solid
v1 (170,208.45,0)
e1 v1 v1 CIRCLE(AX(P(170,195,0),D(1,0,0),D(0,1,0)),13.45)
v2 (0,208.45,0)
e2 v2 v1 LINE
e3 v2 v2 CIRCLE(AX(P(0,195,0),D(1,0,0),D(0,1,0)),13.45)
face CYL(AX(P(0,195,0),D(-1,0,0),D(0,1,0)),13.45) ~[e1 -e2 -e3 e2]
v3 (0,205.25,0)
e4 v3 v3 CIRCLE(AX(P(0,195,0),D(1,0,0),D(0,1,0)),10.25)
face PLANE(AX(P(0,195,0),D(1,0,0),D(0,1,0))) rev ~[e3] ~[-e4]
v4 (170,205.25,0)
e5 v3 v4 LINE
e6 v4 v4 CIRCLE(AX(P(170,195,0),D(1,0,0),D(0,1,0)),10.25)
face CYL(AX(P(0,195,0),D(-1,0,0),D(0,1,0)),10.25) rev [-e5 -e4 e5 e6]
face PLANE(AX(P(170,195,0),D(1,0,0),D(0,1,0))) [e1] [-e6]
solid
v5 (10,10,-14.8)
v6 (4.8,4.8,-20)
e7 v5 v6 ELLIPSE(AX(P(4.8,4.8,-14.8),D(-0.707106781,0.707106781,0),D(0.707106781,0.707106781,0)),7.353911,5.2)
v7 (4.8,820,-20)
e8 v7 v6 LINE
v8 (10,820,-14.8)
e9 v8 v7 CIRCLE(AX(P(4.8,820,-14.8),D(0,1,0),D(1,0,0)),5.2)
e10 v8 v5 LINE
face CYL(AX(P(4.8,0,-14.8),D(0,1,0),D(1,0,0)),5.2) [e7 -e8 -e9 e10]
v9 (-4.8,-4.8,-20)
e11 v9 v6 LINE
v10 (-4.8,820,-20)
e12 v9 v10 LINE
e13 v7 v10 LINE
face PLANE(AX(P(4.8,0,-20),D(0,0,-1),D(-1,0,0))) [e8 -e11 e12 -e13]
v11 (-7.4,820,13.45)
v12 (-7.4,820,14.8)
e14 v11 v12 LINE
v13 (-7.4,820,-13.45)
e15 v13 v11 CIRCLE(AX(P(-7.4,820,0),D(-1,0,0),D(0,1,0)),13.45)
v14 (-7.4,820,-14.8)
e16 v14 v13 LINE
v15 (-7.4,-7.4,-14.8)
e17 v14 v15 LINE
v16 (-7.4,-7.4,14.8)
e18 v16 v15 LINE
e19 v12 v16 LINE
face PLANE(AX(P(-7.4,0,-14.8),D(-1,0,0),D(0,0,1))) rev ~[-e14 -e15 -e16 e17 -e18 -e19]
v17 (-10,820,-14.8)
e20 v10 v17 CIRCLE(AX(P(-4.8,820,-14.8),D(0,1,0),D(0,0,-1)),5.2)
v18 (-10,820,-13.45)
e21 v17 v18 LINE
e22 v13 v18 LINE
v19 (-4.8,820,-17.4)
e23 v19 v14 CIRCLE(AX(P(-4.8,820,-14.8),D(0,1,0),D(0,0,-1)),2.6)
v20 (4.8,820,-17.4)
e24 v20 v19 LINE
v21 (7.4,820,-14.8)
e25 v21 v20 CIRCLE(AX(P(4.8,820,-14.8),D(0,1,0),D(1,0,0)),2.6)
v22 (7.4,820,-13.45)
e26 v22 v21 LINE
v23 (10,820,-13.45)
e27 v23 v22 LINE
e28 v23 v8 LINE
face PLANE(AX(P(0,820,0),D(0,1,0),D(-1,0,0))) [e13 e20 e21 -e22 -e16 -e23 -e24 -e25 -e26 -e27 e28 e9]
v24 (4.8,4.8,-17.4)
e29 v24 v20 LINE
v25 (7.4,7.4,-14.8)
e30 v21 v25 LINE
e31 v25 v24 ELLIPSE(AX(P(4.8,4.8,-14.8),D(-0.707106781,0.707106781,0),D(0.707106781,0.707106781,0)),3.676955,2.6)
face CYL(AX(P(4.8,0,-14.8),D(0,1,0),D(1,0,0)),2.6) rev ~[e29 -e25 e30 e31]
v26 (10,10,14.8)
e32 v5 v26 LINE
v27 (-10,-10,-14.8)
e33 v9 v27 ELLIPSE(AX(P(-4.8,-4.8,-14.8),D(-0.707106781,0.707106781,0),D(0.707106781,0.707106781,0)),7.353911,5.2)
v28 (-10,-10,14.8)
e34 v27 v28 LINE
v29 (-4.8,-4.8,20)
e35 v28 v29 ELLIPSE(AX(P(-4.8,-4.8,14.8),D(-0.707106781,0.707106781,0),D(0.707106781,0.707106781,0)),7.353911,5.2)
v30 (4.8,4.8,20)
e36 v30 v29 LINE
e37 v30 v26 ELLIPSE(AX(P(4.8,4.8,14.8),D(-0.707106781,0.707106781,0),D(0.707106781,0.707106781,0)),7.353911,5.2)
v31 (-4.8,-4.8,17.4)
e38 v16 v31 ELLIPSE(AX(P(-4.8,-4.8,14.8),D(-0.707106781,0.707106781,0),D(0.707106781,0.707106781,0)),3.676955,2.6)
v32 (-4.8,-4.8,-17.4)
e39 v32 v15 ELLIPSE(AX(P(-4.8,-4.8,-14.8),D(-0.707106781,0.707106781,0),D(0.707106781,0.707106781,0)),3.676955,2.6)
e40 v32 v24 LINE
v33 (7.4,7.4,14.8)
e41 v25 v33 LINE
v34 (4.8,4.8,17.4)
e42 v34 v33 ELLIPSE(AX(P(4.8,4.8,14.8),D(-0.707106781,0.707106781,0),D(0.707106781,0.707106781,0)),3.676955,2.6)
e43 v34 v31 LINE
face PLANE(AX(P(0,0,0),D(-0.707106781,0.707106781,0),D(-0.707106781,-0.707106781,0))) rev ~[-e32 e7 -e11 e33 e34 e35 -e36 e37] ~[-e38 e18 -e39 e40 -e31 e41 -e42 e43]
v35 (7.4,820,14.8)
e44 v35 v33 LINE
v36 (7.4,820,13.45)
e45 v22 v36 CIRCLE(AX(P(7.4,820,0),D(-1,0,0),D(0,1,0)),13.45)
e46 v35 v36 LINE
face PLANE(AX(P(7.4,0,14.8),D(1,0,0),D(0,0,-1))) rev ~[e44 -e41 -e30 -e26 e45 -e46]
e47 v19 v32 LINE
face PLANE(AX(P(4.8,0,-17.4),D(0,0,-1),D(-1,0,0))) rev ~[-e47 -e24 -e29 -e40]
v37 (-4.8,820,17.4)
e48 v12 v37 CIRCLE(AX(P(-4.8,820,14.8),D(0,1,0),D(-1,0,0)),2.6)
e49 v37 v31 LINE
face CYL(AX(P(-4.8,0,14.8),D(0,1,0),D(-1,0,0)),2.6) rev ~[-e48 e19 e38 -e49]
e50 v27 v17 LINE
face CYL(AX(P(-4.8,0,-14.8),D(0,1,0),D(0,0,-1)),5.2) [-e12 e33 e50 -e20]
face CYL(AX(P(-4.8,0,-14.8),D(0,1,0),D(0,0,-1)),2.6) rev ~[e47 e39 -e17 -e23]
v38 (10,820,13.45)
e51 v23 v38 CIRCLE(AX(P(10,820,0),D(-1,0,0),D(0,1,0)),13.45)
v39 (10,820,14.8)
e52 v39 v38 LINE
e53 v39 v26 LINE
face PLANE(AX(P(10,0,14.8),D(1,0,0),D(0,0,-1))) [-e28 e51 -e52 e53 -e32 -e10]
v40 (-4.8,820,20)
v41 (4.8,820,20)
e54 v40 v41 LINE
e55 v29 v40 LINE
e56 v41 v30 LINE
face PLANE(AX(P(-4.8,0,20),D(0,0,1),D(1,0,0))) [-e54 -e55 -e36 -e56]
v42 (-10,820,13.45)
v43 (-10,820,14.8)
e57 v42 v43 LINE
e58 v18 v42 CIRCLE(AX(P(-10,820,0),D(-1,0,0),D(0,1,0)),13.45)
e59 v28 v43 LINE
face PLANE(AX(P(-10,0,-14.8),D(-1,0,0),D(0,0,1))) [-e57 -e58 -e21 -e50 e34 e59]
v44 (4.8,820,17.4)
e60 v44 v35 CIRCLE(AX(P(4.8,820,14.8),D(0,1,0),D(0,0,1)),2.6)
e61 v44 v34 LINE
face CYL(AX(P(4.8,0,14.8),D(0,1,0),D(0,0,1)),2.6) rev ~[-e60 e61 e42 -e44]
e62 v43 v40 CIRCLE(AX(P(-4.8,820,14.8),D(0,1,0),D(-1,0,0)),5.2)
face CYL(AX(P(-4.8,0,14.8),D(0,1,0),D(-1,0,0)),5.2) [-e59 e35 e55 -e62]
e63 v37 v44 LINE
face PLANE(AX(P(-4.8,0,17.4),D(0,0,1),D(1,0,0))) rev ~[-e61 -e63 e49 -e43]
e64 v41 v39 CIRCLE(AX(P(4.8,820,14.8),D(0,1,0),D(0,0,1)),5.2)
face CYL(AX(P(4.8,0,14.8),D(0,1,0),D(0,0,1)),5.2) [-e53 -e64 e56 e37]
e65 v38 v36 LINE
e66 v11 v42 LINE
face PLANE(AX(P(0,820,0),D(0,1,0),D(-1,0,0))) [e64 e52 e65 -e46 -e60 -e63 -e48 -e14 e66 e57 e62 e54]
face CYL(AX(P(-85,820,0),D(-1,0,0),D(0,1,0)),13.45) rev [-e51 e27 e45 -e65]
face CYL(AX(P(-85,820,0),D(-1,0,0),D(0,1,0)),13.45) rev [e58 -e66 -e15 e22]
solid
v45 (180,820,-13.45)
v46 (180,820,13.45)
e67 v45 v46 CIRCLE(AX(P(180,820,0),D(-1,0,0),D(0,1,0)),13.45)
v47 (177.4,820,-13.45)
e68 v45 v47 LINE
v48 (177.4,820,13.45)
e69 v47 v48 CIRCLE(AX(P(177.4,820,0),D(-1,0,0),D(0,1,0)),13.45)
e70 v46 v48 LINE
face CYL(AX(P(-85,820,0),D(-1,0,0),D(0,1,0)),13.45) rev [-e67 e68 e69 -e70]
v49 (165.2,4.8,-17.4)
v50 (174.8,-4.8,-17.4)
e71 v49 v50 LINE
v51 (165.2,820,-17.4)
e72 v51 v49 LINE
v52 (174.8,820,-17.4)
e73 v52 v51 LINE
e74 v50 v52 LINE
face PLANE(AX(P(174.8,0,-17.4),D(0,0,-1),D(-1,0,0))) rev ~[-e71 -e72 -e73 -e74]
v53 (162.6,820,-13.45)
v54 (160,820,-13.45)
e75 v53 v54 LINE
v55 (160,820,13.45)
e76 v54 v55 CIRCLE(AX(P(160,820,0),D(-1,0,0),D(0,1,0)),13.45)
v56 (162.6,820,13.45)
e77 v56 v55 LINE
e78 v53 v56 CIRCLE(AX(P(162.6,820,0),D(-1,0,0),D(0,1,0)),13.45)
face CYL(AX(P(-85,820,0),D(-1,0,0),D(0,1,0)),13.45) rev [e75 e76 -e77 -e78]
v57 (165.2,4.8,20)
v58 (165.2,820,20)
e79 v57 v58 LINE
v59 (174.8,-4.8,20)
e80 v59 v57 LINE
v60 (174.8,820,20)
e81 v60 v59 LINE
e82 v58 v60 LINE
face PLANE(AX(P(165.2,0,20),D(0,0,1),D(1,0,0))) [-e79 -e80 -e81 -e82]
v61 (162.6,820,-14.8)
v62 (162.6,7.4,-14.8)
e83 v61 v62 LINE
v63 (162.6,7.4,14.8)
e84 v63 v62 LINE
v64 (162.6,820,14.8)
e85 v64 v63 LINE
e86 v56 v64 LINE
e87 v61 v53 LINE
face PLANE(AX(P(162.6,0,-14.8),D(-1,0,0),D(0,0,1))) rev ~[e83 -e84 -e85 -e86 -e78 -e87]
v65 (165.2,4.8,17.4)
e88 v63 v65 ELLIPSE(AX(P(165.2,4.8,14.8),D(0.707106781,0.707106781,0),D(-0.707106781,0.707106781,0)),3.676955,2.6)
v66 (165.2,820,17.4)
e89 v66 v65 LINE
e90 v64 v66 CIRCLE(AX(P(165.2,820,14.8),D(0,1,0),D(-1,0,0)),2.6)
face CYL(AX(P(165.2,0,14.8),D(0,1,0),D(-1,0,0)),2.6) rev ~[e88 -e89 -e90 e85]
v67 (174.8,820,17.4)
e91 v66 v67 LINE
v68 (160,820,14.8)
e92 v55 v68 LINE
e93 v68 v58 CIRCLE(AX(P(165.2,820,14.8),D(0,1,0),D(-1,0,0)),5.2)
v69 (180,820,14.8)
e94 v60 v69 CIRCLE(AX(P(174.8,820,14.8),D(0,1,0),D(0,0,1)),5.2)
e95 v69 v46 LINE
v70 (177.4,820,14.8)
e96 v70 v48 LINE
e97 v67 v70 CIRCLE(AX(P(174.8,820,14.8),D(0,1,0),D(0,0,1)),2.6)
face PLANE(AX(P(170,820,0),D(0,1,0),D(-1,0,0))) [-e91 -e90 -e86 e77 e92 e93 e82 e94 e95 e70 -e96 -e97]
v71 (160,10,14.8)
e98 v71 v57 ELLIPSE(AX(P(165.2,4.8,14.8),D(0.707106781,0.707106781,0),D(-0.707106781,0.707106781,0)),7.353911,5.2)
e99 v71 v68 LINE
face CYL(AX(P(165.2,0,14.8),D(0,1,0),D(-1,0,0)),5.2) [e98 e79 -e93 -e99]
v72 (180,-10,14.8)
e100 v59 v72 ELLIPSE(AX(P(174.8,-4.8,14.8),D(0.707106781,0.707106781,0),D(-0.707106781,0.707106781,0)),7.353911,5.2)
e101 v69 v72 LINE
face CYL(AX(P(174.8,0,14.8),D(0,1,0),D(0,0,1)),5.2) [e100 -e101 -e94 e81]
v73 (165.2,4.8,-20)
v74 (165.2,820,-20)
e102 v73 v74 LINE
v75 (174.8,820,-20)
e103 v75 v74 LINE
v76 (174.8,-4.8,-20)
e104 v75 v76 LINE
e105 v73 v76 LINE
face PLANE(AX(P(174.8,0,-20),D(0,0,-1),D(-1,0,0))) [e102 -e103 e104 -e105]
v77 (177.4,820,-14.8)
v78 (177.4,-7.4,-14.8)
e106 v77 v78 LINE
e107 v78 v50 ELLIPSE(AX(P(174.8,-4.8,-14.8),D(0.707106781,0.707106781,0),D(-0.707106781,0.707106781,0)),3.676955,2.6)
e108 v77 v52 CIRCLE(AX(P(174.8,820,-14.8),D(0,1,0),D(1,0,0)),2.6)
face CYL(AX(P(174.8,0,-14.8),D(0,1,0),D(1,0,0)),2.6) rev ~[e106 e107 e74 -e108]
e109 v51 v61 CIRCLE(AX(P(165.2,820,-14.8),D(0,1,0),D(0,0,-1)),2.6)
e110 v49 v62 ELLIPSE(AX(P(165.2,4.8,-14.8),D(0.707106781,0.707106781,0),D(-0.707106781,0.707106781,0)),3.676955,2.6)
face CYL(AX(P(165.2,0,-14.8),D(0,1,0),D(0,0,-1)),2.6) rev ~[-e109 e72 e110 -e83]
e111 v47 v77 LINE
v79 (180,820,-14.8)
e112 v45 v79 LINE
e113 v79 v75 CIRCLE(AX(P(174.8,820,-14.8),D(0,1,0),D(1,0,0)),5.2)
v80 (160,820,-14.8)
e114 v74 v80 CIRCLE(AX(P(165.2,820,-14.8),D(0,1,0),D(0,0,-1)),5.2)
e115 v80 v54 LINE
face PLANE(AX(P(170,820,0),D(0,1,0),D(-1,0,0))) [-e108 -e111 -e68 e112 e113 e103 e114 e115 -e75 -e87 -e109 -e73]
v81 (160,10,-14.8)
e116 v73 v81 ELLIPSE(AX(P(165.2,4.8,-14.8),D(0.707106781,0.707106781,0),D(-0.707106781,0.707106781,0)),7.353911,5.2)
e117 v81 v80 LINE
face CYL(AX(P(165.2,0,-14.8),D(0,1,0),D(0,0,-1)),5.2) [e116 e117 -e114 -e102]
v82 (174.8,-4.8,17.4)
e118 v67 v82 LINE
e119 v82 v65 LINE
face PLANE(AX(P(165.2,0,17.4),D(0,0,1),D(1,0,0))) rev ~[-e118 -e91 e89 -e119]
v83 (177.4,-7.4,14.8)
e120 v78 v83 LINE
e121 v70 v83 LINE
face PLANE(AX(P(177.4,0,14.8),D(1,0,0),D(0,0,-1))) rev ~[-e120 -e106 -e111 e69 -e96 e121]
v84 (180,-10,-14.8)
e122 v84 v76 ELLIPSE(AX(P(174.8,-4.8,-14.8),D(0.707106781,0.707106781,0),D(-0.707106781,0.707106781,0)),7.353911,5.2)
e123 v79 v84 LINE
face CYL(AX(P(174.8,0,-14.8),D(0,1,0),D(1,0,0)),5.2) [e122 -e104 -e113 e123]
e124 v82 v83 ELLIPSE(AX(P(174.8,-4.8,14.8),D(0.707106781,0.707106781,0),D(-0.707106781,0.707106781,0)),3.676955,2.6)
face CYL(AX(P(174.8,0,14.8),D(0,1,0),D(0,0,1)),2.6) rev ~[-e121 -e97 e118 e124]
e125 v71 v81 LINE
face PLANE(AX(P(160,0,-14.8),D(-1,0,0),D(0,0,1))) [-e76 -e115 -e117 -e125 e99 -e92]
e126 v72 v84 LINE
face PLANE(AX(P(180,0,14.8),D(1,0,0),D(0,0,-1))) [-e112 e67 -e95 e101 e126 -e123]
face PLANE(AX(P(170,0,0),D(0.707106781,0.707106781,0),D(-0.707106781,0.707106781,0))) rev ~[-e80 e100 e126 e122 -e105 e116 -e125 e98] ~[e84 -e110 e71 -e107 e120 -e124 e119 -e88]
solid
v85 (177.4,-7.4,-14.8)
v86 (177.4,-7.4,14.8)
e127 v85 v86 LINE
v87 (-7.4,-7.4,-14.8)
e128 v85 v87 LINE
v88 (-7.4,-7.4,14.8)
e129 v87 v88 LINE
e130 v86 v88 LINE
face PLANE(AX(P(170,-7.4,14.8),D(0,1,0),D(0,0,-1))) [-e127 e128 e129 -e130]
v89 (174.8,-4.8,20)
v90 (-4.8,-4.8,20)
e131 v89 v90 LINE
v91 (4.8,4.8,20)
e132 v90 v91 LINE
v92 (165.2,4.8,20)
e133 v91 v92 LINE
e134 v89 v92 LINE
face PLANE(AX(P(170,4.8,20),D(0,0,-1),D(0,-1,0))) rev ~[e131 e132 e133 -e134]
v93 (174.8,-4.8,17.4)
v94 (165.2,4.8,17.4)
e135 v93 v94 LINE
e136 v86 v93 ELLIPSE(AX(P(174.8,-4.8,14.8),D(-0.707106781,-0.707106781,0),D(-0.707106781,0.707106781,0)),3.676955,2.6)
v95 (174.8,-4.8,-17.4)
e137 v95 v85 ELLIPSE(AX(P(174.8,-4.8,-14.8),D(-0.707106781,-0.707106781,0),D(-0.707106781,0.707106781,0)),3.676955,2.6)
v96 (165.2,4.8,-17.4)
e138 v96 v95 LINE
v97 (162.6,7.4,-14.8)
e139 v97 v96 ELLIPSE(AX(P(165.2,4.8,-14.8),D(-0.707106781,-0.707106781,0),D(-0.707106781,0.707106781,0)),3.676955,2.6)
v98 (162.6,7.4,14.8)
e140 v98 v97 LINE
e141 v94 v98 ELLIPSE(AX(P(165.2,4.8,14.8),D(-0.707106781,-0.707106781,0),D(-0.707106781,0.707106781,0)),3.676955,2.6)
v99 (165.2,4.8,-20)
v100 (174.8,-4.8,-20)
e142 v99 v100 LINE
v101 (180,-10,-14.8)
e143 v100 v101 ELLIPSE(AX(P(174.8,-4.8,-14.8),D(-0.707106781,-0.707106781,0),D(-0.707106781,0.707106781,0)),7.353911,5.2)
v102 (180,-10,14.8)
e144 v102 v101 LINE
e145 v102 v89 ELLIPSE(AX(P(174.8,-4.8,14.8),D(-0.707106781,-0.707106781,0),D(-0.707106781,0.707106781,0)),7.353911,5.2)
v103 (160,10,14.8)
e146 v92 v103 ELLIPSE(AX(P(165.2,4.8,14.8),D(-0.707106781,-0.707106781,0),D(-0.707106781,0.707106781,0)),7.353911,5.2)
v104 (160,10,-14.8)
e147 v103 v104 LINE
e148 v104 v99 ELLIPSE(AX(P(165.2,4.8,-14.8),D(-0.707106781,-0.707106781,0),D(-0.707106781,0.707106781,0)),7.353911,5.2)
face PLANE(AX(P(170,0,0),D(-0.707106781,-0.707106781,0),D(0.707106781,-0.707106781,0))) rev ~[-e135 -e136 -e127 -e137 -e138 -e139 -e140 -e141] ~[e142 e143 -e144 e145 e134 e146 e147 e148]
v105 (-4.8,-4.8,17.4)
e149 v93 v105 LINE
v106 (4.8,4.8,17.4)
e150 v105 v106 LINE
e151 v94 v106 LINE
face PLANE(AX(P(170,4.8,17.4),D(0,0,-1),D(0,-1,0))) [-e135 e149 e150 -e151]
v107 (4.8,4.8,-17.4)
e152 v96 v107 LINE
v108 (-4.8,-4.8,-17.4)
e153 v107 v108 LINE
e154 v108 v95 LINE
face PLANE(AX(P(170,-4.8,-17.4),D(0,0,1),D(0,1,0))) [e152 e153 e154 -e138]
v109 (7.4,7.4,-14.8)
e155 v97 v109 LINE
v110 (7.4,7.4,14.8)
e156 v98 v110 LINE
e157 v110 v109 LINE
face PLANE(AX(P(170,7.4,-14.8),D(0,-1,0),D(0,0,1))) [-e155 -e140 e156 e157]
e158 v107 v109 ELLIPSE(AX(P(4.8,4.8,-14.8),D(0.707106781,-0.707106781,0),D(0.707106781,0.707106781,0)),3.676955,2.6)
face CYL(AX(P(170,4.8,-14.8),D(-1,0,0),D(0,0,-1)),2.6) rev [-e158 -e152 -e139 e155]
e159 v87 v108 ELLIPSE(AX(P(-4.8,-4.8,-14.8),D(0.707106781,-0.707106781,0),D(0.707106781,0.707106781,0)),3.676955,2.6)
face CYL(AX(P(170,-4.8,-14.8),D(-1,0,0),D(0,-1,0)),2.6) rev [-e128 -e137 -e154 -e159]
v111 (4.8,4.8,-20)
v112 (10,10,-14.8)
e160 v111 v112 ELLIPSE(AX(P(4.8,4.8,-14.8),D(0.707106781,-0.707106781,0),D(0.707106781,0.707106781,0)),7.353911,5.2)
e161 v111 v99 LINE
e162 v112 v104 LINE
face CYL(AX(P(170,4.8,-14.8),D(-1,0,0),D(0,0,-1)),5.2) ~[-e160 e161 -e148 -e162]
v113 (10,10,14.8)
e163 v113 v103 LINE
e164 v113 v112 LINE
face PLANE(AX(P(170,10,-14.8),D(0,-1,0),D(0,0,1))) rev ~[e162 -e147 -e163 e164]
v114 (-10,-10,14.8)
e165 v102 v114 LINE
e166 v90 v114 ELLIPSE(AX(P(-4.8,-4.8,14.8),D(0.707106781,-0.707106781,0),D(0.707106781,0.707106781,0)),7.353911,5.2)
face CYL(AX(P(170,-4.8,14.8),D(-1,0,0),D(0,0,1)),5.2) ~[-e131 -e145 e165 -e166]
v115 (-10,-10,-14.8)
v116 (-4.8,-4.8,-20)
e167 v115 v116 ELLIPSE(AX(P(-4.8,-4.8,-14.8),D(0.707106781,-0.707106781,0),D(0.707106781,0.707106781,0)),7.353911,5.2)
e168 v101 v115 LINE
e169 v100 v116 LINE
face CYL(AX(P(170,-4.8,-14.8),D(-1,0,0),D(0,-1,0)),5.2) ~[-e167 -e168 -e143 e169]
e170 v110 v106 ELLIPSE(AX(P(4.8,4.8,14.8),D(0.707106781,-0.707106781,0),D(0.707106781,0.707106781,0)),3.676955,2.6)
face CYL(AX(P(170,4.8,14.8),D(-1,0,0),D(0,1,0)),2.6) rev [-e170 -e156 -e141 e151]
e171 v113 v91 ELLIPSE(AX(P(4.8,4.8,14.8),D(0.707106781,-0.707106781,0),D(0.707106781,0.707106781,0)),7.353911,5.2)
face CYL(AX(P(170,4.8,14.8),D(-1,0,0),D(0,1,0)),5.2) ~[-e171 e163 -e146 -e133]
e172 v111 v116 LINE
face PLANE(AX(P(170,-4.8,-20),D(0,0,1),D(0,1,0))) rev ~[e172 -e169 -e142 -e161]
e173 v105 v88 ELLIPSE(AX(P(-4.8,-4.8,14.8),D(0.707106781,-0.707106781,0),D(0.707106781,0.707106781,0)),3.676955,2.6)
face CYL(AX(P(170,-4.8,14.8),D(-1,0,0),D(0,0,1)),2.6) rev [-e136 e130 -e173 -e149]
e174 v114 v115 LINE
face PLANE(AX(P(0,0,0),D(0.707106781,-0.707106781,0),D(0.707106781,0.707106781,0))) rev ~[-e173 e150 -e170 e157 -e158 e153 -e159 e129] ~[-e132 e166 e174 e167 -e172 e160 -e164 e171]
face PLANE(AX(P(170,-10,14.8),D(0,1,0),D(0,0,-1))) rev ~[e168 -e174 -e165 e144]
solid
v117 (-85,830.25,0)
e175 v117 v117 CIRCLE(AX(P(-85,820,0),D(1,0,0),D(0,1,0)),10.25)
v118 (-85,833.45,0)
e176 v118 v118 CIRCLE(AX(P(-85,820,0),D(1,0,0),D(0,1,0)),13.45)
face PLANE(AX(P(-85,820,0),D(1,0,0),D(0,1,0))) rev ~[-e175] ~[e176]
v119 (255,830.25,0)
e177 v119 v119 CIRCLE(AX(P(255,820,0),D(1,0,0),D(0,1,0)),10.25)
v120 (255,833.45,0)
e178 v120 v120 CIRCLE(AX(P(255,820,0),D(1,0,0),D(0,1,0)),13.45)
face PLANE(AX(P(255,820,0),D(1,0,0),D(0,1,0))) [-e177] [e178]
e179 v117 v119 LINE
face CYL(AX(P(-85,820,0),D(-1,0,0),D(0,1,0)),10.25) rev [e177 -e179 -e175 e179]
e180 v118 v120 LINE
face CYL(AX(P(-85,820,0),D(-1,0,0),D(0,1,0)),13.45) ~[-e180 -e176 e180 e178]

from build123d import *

# Parameters (mm, degrees)
SKETCH11_R                               = 13.45
SKETCH11_R_2                             = 10.25
PIPE_26_9_X_3_2_1_DEPTH                  = 340
SKETCH11_ON_SEGMENT_2_R                  = 13.45
SKETCH11_ON_SEGMENT_2_R_2                = 10.25
PIPE_26_9_X_3_2_1_2_DEPTH                = 170
RECTANGULAR_TUBE_50_X_30_X_2_6_1_DEPTH   = 820
RECTANGULAR_TUBE_50_X_30_X_2_6_1_2_DEPTH = 820
RECTANGULAR_TUBE_50_X_30_X_2_6_2_DEPTH   = 170
BODY_3_RUN_ON_DEPTH                      = 10
BODY_5_RUN_ON_DEPTH                      = 10
BODY_4_RUN_ON_DEPTH                      = 10
BODY_START                               = 170
BODY_5_RUN_ON_2_DEPTH                    = 10


with BuildPart() as part:
    # Sketch11 → Pipe 26.9 X 3.2(1) (new body)
    with BuildSketch(Plane(origin=(-85, 820, 0), x_dir=(0, 1, 0), z_dir=(1, 0, 0))):
        Circle(SKETCH11_R)
        Circle(SKETCH11_R_2, mode=Mode.SUBTRACT)
    extrude(amount=PIPE_26_9_X_3_2_1_DEPTH)


with BuildPart() as body_2:
    # Sketch11 on segment 2 (carried to segment 2) → Pipe 26.9 X 3.2_1 2 (new body)
    with BuildSketch(Plane(origin=(0, 195, 0), x_dir=(0, 1, 0), z_dir=(1, 0, 0))):
        Circle(SKETCH11_ON_SEGMENT_2_R)
        Circle(SKETCH11_ON_SEGMENT_2_R_2, mode=Mode.SUBTRACT)
    extrude(amount=PIPE_26_9_X_3_2_1_2_DEPTH)


with BuildPart() as body_3:
    # Sketch12 → Rectangular tube 50 X 30 X 2.6(1) (new body)
    with BuildSketch(Plane(origin=(0, 0, 0), x_dir=(-1, 0, 0), z_dir=(0, 1, 0))):
        with BuildLine():
            Line((-4.8, -20), (4.8, -20))
            ThreePointArc((4.8, -20), (8.476955262, -18.476955262), (10, -14.8))
            Line((10, -14.8), (10, 14.8))
            ThreePointArc((10, 14.8), (8.476955262, 18.476955262), (4.8, 20))
            Line((4.8, 20), (-4.8, 20))
            ThreePointArc((-4.8, 20), (-8.476955262, 18.476955262), (-10, 14.8))
            Line((-10, 14.8), (-10, -14.8))
            ThreePointArc((-10, -14.8), (-8.476955262, -18.476955262), (-4.8, -20))
        make_face()
        with BuildLine():
            Line((-4.8, -17.4), (4.8, -17.4))
            ThreePointArc((4.8, -17.4), (6.638477631, -16.638477631), (7.4, -14.8))
            Line((7.4, -14.8), (7.4, 14.8))
            ThreePointArc((7.4, 14.8), (6.638477631, 16.638477631), (4.8, 17.4))
            Line((4.8, 17.4), (-4.8, 17.4))
            ThreePointArc((-4.8, 17.4), (-6.638477631, 16.638477631), (-7.4, 14.8))
            Line((-7.4, 14.8), (-7.4, -14.8))
            ThreePointArc((-7.4, -14.8), (-6.638477631, -16.638477631), (-4.8, -17.4))
        make_face(mode=Mode.SUBTRACT)
    extrude(amount=RECTANGULAR_TUBE_50_X_30_X_2_6_1_DEPTH)

    # Sketch12 → body 3 run on (add)
    with BuildSketch(Plane(origin=(0, 0, 0), x_dir=(-1, 0, 0), z_dir=(0, 1, 0))):
        with BuildLine():
            Line((-4.8, -20), (4.8, -20))
            ThreePointArc((4.8, -20), (8.476955262, -18.476955262), (10, -14.8))
            Line((10, -14.8), (10, 14.8))
            ThreePointArc((10, 14.8), (8.476955262, 18.476955262), (4.8, 20))
            Line((4.8, 20), (-4.8, 20))
            ThreePointArc((-4.8, 20), (-8.476955262, 18.476955262), (-10, 14.8))
            Line((-10, 14.8), (-10, -14.8))
            ThreePointArc((-10, -14.8), (-8.476955262, -18.476955262), (-4.8, -20))
        make_face()
        with BuildLine():
            Line((-4.8, -17.4), (4.8, -17.4))
            ThreePointArc((4.8, -17.4), (6.638477631, -16.638477631), (7.4, -14.8))
            Line((7.4, -14.8), (7.4, 14.8))
            ThreePointArc((7.4, 14.8), (6.638477631, 16.638477631), (4.8, 17.4))
            Line((4.8, 17.4), (-4.8, 17.4))
            ThreePointArc((-4.8, 17.4), (-6.638477631, 16.638477631), (-7.4, 14.8))
            Line((-7.4, 14.8), (-7.4, -14.8))
            ThreePointArc((-7.4, -14.8), (-6.638477631, -16.638477631), (-4.8, -17.4))
        make_face(mode=Mode.SUBTRACT)
    extrude(amount=-BODY_3_RUN_ON_DEPTH)

    # Trim/Extend1
    split(bisect_by=Plane(origin=(0, 0, 0), x_dir=(-0.707106781, -0.707106781, 0), z_dir=(-0.707106781, 0.707106781, 0)), keep=Keep.TOP)

    # Trim/Extend4: cut back where it meets the other member's skin (coped)
    split(bisect_by=part.part.faces().sort_by_distance((85, 806.55, 0))[0], keep=Keep.TOP)


with BuildPart() as body_4:
    # Sketch12 on segment 2 (carried to segment 2) → Rectangular tube 50 X 30 X 2.6_1 2 (new body)
    with BuildSketch(Plane(origin=(170, 0, 0), x_dir=(-1, 0, 0), z_dir=(0, 1, 0))):
        with BuildLine():
            Line((-4.8, -20), (4.8, -20))
            ThreePointArc((4.8, -20), (8.476955262, -18.476955262), (10, -14.8))
            Line((10, -14.8), (10, 14.8))
            ThreePointArc((10, 14.8), (8.476955262, 18.476955262), (4.8, 20))
            Line((4.8, 20), (-4.8, 20))
            ThreePointArc((-4.8, 20), (-8.476955262, 18.476955262), (-10, 14.8))
            Line((-10, 14.8), (-10, -14.8))
            ThreePointArc((-10, -14.8), (-8.476955262, -18.476955262), (-4.8, -20))
        make_face()
        with BuildLine():
            Line((-4.8, -17.4), (4.8, -17.4))
            ThreePointArc((4.8, -17.4), (6.638477631, -16.638477631), (7.4, -14.8))
            Line((7.4, -14.8), (7.4, 14.8))
            ThreePointArc((7.4, 14.8), (6.638477631, 16.638477631), (4.8, 17.4))
            Line((4.8, 17.4), (-4.8, 17.4))
            ThreePointArc((-4.8, 17.4), (-6.638477631, 16.638477631), (-7.4, 14.8))
            Line((-7.4, 14.8), (-7.4, -14.8))
            ThreePointArc((-7.4, -14.8), (-6.638477631, -16.638477631), (-4.8, -17.4))
        make_face(mode=Mode.SUBTRACT)
    extrude(amount=RECTANGULAR_TUBE_50_X_30_X_2_6_1_2_DEPTH)

    # Sketch12 on segment 2 (carried to segment 2) → body 4 run on (add)
    with BuildSketch(Plane(origin=(170, 0, 0), x_dir=(-1, 0, 0), z_dir=(0, 1, 0))):
        with BuildLine():
            Line((-4.8, -20), (4.8, -20))
            ThreePointArc((4.8, -20), (8.476955262, -18.476955262), (10, -14.8))
            Line((10, -14.8), (10, 14.8))
            ThreePointArc((10, 14.8), (8.476955262, 18.476955262), (4.8, 20))
            Line((4.8, 20), (-4.8, 20))
            ThreePointArc((-4.8, 20), (-8.476955262, 18.476955262), (-10, 14.8))
            Line((-10, 14.8), (-10, -14.8))
            ThreePointArc((-10, -14.8), (-8.476955262, -18.476955262), (-4.8, -20))
        make_face()
        with BuildLine():
            Line((-4.8, -17.4), (4.8, -17.4))
            ThreePointArc((4.8, -17.4), (6.638477631, -16.638477631), (7.4, -14.8))
            Line((7.4, -14.8), (7.4, 14.8))
            ThreePointArc((7.4, 14.8), (6.638477631, 16.638477631), (4.8, 17.4))
            Line((4.8, 17.4), (-4.8, 17.4))
            ThreePointArc((-4.8, 17.4), (-6.638477631, 16.638477631), (-7.4, 14.8))
            Line((-7.4, 14.8), (-7.4, -14.8))
            ThreePointArc((-7.4, -14.8), (-6.638477631, -16.638477631), (-4.8, -17.4))
        make_face(mode=Mode.SUBTRACT)
    extrude(amount=-BODY_4_RUN_ON_DEPTH)

    # Trim/Extend2
    split(bisect_by=Plane(origin=(170, 0, 0), x_dir=(-0.707106781, 0.707106781, 0), z_dir=(0.707106781, 0.707106781, 0)), keep=Keep.TOP)

    # Trim/Extend4: cut back where it meets the other member's skin (coped)
    split(bisect_by=part.part.faces().sort_by_distance((85, 806.55, 0))[0], keep=Keep.TOP)


with BuildPart() as body_5:
    # Sketch13 → Rectangular tube 50 X 30 X 2.6(2) (new body)
    with BuildSketch(Plane.YZ):
        with BuildLine():
            Line((-4.8, -20), (4.8, -20))
            ThreePointArc((4.8, -20), (8.476955262, -18.476955262), (10, -14.8))
            Line((10, -14.8), (10, 14.8))
            ThreePointArc((10, 14.8), (8.476955262, 18.476955262), (4.8, 20))
            Line((4.8, 20), (-4.8, 20))
            ThreePointArc((-4.8, 20), (-8.476955262, 18.476955262), (-10, 14.8))
            Line((-10, 14.8), (-10, -14.8))
            ThreePointArc((-10, -14.8), (-8.476955262, -18.476955262), (-4.8, -20))
        make_face()
        with BuildLine():
            Line((-4.8, -17.4), (4.8, -17.4))
            ThreePointArc((4.8, -17.4), (6.638477631, -16.638477631), (7.4, -14.8))
            Line((7.4, -14.8), (7.4, 14.8))
            ThreePointArc((7.4, 14.8), (6.638477631, 16.638477631), (4.8, 17.4))
            Line((4.8, 17.4), (-4.8, 17.4))
            ThreePointArc((-4.8, 17.4), (-6.638477631, 16.638477631), (-7.4, 14.8))
            Line((-7.4, 14.8), (-7.4, -14.8))
            ThreePointArc((-7.4, -14.8), (-6.638477631, -16.638477631), (-4.8, -17.4))
        make_face(mode=Mode.SUBTRACT)
    extrude(amount=RECTANGULAR_TUBE_50_X_30_X_2_6_2_DEPTH)

    # Sketch13 → body 5 run on (add)
    with BuildSketch(Plane.YZ):
        with BuildLine():
            Line((-4.8, -20), (4.8, -20))
            ThreePointArc((4.8, -20), (8.476955262, -18.476955262), (10, -14.8))
            Line((10, -14.8), (10, 14.8))
            ThreePointArc((10, 14.8), (8.476955262, 18.476955262), (4.8, 20))
            Line((4.8, 20), (-4.8, 20))
            ThreePointArc((-4.8, 20), (-8.476955262, 18.476955262), (-10, 14.8))
            Line((-10, 14.8), (-10, -14.8))
            ThreePointArc((-10, -14.8), (-8.476955262, -18.476955262), (-4.8, -20))
        make_face()
        with BuildLine():
            Line((-4.8, -17.4), (4.8, -17.4))
            ThreePointArc((4.8, -17.4), (6.638477631, -16.638477631), (7.4, -14.8))
            Line((7.4, -14.8), (7.4, 14.8))
            ThreePointArc((7.4, 14.8), (6.638477631, 16.638477631), (4.8, 17.4))
            Line((4.8, 17.4), (-4.8, 17.4))
            ThreePointArc((-4.8, 17.4), (-6.638477631, 16.638477631), (-7.4, 14.8))
            Line((-7.4, 14.8), (-7.4, -14.8))
            ThreePointArc((-7.4, -14.8), (-6.638477631, -16.638477631), (-4.8, -17.4))
        make_face(mode=Mode.SUBTRACT)
    extrude(amount=-BODY_5_RUN_ON_DEPTH)

    # Trim/Extend1
    split(bisect_by=Plane(origin=(0, 0, 0), x_dir=(0.707106781, 0.707106781, 0), z_dir=(0.707106781, -0.707106781, 0)), keep=Keep.TOP)

    # Sketch13 → body 5 run on 2 (add)
    with BuildSketch(Plane.YZ.offset(BODY_START)):
        with BuildLine():
            Line((-4.8, -20), (4.8, -20))
            ThreePointArc((4.8, -20), (8.476955262, -18.476955262), (10, -14.8))
            Line((10, -14.8), (10, 14.8))
            ThreePointArc((10, 14.8), (8.476955262, 18.476955262), (4.8, 20))
            Line((4.8, 20), (-4.8, 20))
            ThreePointArc((-4.8, 20), (-8.476955262, 18.476955262), (-10, 14.8))
            Line((-10, 14.8), (-10, -14.8))
            ThreePointArc((-10, -14.8), (-8.476955262, -18.476955262), (-4.8, -20))
        make_face()
        with BuildLine():
            Line((-4.8, -17.4), (4.8, -17.4))
            ThreePointArc((4.8, -17.4), (6.638477631, -16.638477631), (7.4, -14.8))
            Line((7.4, -14.8), (7.4, 14.8))
            ThreePointArc((7.4, 14.8), (6.638477631, 16.638477631), (4.8, 17.4))
            Line((4.8, 17.4), (-4.8, 17.4))
            ThreePointArc((-4.8, 17.4), (-6.638477631, 16.638477631), (-7.4, 14.8))
            Line((-7.4, 14.8), (-7.4, -14.8))
            ThreePointArc((-7.4, -14.8), (-6.638477631, -16.638477631), (-4.8, -17.4))
        make_face(mode=Mode.SUBTRACT)
    extrude(amount=BODY_5_RUN_ON_2_DEPTH)

    # Trim/Extend2
    split(bisect_by=Plane(origin=(170, 0, 0), x_dir=(0.707106781, -0.707106781, 0), z_dir=(-0.707106781, -0.707106781, 0)), keep=Keep.TOP)


solid = Compound([part.part, body_2.part, body_3.part, body_4.part, body_5.part])
